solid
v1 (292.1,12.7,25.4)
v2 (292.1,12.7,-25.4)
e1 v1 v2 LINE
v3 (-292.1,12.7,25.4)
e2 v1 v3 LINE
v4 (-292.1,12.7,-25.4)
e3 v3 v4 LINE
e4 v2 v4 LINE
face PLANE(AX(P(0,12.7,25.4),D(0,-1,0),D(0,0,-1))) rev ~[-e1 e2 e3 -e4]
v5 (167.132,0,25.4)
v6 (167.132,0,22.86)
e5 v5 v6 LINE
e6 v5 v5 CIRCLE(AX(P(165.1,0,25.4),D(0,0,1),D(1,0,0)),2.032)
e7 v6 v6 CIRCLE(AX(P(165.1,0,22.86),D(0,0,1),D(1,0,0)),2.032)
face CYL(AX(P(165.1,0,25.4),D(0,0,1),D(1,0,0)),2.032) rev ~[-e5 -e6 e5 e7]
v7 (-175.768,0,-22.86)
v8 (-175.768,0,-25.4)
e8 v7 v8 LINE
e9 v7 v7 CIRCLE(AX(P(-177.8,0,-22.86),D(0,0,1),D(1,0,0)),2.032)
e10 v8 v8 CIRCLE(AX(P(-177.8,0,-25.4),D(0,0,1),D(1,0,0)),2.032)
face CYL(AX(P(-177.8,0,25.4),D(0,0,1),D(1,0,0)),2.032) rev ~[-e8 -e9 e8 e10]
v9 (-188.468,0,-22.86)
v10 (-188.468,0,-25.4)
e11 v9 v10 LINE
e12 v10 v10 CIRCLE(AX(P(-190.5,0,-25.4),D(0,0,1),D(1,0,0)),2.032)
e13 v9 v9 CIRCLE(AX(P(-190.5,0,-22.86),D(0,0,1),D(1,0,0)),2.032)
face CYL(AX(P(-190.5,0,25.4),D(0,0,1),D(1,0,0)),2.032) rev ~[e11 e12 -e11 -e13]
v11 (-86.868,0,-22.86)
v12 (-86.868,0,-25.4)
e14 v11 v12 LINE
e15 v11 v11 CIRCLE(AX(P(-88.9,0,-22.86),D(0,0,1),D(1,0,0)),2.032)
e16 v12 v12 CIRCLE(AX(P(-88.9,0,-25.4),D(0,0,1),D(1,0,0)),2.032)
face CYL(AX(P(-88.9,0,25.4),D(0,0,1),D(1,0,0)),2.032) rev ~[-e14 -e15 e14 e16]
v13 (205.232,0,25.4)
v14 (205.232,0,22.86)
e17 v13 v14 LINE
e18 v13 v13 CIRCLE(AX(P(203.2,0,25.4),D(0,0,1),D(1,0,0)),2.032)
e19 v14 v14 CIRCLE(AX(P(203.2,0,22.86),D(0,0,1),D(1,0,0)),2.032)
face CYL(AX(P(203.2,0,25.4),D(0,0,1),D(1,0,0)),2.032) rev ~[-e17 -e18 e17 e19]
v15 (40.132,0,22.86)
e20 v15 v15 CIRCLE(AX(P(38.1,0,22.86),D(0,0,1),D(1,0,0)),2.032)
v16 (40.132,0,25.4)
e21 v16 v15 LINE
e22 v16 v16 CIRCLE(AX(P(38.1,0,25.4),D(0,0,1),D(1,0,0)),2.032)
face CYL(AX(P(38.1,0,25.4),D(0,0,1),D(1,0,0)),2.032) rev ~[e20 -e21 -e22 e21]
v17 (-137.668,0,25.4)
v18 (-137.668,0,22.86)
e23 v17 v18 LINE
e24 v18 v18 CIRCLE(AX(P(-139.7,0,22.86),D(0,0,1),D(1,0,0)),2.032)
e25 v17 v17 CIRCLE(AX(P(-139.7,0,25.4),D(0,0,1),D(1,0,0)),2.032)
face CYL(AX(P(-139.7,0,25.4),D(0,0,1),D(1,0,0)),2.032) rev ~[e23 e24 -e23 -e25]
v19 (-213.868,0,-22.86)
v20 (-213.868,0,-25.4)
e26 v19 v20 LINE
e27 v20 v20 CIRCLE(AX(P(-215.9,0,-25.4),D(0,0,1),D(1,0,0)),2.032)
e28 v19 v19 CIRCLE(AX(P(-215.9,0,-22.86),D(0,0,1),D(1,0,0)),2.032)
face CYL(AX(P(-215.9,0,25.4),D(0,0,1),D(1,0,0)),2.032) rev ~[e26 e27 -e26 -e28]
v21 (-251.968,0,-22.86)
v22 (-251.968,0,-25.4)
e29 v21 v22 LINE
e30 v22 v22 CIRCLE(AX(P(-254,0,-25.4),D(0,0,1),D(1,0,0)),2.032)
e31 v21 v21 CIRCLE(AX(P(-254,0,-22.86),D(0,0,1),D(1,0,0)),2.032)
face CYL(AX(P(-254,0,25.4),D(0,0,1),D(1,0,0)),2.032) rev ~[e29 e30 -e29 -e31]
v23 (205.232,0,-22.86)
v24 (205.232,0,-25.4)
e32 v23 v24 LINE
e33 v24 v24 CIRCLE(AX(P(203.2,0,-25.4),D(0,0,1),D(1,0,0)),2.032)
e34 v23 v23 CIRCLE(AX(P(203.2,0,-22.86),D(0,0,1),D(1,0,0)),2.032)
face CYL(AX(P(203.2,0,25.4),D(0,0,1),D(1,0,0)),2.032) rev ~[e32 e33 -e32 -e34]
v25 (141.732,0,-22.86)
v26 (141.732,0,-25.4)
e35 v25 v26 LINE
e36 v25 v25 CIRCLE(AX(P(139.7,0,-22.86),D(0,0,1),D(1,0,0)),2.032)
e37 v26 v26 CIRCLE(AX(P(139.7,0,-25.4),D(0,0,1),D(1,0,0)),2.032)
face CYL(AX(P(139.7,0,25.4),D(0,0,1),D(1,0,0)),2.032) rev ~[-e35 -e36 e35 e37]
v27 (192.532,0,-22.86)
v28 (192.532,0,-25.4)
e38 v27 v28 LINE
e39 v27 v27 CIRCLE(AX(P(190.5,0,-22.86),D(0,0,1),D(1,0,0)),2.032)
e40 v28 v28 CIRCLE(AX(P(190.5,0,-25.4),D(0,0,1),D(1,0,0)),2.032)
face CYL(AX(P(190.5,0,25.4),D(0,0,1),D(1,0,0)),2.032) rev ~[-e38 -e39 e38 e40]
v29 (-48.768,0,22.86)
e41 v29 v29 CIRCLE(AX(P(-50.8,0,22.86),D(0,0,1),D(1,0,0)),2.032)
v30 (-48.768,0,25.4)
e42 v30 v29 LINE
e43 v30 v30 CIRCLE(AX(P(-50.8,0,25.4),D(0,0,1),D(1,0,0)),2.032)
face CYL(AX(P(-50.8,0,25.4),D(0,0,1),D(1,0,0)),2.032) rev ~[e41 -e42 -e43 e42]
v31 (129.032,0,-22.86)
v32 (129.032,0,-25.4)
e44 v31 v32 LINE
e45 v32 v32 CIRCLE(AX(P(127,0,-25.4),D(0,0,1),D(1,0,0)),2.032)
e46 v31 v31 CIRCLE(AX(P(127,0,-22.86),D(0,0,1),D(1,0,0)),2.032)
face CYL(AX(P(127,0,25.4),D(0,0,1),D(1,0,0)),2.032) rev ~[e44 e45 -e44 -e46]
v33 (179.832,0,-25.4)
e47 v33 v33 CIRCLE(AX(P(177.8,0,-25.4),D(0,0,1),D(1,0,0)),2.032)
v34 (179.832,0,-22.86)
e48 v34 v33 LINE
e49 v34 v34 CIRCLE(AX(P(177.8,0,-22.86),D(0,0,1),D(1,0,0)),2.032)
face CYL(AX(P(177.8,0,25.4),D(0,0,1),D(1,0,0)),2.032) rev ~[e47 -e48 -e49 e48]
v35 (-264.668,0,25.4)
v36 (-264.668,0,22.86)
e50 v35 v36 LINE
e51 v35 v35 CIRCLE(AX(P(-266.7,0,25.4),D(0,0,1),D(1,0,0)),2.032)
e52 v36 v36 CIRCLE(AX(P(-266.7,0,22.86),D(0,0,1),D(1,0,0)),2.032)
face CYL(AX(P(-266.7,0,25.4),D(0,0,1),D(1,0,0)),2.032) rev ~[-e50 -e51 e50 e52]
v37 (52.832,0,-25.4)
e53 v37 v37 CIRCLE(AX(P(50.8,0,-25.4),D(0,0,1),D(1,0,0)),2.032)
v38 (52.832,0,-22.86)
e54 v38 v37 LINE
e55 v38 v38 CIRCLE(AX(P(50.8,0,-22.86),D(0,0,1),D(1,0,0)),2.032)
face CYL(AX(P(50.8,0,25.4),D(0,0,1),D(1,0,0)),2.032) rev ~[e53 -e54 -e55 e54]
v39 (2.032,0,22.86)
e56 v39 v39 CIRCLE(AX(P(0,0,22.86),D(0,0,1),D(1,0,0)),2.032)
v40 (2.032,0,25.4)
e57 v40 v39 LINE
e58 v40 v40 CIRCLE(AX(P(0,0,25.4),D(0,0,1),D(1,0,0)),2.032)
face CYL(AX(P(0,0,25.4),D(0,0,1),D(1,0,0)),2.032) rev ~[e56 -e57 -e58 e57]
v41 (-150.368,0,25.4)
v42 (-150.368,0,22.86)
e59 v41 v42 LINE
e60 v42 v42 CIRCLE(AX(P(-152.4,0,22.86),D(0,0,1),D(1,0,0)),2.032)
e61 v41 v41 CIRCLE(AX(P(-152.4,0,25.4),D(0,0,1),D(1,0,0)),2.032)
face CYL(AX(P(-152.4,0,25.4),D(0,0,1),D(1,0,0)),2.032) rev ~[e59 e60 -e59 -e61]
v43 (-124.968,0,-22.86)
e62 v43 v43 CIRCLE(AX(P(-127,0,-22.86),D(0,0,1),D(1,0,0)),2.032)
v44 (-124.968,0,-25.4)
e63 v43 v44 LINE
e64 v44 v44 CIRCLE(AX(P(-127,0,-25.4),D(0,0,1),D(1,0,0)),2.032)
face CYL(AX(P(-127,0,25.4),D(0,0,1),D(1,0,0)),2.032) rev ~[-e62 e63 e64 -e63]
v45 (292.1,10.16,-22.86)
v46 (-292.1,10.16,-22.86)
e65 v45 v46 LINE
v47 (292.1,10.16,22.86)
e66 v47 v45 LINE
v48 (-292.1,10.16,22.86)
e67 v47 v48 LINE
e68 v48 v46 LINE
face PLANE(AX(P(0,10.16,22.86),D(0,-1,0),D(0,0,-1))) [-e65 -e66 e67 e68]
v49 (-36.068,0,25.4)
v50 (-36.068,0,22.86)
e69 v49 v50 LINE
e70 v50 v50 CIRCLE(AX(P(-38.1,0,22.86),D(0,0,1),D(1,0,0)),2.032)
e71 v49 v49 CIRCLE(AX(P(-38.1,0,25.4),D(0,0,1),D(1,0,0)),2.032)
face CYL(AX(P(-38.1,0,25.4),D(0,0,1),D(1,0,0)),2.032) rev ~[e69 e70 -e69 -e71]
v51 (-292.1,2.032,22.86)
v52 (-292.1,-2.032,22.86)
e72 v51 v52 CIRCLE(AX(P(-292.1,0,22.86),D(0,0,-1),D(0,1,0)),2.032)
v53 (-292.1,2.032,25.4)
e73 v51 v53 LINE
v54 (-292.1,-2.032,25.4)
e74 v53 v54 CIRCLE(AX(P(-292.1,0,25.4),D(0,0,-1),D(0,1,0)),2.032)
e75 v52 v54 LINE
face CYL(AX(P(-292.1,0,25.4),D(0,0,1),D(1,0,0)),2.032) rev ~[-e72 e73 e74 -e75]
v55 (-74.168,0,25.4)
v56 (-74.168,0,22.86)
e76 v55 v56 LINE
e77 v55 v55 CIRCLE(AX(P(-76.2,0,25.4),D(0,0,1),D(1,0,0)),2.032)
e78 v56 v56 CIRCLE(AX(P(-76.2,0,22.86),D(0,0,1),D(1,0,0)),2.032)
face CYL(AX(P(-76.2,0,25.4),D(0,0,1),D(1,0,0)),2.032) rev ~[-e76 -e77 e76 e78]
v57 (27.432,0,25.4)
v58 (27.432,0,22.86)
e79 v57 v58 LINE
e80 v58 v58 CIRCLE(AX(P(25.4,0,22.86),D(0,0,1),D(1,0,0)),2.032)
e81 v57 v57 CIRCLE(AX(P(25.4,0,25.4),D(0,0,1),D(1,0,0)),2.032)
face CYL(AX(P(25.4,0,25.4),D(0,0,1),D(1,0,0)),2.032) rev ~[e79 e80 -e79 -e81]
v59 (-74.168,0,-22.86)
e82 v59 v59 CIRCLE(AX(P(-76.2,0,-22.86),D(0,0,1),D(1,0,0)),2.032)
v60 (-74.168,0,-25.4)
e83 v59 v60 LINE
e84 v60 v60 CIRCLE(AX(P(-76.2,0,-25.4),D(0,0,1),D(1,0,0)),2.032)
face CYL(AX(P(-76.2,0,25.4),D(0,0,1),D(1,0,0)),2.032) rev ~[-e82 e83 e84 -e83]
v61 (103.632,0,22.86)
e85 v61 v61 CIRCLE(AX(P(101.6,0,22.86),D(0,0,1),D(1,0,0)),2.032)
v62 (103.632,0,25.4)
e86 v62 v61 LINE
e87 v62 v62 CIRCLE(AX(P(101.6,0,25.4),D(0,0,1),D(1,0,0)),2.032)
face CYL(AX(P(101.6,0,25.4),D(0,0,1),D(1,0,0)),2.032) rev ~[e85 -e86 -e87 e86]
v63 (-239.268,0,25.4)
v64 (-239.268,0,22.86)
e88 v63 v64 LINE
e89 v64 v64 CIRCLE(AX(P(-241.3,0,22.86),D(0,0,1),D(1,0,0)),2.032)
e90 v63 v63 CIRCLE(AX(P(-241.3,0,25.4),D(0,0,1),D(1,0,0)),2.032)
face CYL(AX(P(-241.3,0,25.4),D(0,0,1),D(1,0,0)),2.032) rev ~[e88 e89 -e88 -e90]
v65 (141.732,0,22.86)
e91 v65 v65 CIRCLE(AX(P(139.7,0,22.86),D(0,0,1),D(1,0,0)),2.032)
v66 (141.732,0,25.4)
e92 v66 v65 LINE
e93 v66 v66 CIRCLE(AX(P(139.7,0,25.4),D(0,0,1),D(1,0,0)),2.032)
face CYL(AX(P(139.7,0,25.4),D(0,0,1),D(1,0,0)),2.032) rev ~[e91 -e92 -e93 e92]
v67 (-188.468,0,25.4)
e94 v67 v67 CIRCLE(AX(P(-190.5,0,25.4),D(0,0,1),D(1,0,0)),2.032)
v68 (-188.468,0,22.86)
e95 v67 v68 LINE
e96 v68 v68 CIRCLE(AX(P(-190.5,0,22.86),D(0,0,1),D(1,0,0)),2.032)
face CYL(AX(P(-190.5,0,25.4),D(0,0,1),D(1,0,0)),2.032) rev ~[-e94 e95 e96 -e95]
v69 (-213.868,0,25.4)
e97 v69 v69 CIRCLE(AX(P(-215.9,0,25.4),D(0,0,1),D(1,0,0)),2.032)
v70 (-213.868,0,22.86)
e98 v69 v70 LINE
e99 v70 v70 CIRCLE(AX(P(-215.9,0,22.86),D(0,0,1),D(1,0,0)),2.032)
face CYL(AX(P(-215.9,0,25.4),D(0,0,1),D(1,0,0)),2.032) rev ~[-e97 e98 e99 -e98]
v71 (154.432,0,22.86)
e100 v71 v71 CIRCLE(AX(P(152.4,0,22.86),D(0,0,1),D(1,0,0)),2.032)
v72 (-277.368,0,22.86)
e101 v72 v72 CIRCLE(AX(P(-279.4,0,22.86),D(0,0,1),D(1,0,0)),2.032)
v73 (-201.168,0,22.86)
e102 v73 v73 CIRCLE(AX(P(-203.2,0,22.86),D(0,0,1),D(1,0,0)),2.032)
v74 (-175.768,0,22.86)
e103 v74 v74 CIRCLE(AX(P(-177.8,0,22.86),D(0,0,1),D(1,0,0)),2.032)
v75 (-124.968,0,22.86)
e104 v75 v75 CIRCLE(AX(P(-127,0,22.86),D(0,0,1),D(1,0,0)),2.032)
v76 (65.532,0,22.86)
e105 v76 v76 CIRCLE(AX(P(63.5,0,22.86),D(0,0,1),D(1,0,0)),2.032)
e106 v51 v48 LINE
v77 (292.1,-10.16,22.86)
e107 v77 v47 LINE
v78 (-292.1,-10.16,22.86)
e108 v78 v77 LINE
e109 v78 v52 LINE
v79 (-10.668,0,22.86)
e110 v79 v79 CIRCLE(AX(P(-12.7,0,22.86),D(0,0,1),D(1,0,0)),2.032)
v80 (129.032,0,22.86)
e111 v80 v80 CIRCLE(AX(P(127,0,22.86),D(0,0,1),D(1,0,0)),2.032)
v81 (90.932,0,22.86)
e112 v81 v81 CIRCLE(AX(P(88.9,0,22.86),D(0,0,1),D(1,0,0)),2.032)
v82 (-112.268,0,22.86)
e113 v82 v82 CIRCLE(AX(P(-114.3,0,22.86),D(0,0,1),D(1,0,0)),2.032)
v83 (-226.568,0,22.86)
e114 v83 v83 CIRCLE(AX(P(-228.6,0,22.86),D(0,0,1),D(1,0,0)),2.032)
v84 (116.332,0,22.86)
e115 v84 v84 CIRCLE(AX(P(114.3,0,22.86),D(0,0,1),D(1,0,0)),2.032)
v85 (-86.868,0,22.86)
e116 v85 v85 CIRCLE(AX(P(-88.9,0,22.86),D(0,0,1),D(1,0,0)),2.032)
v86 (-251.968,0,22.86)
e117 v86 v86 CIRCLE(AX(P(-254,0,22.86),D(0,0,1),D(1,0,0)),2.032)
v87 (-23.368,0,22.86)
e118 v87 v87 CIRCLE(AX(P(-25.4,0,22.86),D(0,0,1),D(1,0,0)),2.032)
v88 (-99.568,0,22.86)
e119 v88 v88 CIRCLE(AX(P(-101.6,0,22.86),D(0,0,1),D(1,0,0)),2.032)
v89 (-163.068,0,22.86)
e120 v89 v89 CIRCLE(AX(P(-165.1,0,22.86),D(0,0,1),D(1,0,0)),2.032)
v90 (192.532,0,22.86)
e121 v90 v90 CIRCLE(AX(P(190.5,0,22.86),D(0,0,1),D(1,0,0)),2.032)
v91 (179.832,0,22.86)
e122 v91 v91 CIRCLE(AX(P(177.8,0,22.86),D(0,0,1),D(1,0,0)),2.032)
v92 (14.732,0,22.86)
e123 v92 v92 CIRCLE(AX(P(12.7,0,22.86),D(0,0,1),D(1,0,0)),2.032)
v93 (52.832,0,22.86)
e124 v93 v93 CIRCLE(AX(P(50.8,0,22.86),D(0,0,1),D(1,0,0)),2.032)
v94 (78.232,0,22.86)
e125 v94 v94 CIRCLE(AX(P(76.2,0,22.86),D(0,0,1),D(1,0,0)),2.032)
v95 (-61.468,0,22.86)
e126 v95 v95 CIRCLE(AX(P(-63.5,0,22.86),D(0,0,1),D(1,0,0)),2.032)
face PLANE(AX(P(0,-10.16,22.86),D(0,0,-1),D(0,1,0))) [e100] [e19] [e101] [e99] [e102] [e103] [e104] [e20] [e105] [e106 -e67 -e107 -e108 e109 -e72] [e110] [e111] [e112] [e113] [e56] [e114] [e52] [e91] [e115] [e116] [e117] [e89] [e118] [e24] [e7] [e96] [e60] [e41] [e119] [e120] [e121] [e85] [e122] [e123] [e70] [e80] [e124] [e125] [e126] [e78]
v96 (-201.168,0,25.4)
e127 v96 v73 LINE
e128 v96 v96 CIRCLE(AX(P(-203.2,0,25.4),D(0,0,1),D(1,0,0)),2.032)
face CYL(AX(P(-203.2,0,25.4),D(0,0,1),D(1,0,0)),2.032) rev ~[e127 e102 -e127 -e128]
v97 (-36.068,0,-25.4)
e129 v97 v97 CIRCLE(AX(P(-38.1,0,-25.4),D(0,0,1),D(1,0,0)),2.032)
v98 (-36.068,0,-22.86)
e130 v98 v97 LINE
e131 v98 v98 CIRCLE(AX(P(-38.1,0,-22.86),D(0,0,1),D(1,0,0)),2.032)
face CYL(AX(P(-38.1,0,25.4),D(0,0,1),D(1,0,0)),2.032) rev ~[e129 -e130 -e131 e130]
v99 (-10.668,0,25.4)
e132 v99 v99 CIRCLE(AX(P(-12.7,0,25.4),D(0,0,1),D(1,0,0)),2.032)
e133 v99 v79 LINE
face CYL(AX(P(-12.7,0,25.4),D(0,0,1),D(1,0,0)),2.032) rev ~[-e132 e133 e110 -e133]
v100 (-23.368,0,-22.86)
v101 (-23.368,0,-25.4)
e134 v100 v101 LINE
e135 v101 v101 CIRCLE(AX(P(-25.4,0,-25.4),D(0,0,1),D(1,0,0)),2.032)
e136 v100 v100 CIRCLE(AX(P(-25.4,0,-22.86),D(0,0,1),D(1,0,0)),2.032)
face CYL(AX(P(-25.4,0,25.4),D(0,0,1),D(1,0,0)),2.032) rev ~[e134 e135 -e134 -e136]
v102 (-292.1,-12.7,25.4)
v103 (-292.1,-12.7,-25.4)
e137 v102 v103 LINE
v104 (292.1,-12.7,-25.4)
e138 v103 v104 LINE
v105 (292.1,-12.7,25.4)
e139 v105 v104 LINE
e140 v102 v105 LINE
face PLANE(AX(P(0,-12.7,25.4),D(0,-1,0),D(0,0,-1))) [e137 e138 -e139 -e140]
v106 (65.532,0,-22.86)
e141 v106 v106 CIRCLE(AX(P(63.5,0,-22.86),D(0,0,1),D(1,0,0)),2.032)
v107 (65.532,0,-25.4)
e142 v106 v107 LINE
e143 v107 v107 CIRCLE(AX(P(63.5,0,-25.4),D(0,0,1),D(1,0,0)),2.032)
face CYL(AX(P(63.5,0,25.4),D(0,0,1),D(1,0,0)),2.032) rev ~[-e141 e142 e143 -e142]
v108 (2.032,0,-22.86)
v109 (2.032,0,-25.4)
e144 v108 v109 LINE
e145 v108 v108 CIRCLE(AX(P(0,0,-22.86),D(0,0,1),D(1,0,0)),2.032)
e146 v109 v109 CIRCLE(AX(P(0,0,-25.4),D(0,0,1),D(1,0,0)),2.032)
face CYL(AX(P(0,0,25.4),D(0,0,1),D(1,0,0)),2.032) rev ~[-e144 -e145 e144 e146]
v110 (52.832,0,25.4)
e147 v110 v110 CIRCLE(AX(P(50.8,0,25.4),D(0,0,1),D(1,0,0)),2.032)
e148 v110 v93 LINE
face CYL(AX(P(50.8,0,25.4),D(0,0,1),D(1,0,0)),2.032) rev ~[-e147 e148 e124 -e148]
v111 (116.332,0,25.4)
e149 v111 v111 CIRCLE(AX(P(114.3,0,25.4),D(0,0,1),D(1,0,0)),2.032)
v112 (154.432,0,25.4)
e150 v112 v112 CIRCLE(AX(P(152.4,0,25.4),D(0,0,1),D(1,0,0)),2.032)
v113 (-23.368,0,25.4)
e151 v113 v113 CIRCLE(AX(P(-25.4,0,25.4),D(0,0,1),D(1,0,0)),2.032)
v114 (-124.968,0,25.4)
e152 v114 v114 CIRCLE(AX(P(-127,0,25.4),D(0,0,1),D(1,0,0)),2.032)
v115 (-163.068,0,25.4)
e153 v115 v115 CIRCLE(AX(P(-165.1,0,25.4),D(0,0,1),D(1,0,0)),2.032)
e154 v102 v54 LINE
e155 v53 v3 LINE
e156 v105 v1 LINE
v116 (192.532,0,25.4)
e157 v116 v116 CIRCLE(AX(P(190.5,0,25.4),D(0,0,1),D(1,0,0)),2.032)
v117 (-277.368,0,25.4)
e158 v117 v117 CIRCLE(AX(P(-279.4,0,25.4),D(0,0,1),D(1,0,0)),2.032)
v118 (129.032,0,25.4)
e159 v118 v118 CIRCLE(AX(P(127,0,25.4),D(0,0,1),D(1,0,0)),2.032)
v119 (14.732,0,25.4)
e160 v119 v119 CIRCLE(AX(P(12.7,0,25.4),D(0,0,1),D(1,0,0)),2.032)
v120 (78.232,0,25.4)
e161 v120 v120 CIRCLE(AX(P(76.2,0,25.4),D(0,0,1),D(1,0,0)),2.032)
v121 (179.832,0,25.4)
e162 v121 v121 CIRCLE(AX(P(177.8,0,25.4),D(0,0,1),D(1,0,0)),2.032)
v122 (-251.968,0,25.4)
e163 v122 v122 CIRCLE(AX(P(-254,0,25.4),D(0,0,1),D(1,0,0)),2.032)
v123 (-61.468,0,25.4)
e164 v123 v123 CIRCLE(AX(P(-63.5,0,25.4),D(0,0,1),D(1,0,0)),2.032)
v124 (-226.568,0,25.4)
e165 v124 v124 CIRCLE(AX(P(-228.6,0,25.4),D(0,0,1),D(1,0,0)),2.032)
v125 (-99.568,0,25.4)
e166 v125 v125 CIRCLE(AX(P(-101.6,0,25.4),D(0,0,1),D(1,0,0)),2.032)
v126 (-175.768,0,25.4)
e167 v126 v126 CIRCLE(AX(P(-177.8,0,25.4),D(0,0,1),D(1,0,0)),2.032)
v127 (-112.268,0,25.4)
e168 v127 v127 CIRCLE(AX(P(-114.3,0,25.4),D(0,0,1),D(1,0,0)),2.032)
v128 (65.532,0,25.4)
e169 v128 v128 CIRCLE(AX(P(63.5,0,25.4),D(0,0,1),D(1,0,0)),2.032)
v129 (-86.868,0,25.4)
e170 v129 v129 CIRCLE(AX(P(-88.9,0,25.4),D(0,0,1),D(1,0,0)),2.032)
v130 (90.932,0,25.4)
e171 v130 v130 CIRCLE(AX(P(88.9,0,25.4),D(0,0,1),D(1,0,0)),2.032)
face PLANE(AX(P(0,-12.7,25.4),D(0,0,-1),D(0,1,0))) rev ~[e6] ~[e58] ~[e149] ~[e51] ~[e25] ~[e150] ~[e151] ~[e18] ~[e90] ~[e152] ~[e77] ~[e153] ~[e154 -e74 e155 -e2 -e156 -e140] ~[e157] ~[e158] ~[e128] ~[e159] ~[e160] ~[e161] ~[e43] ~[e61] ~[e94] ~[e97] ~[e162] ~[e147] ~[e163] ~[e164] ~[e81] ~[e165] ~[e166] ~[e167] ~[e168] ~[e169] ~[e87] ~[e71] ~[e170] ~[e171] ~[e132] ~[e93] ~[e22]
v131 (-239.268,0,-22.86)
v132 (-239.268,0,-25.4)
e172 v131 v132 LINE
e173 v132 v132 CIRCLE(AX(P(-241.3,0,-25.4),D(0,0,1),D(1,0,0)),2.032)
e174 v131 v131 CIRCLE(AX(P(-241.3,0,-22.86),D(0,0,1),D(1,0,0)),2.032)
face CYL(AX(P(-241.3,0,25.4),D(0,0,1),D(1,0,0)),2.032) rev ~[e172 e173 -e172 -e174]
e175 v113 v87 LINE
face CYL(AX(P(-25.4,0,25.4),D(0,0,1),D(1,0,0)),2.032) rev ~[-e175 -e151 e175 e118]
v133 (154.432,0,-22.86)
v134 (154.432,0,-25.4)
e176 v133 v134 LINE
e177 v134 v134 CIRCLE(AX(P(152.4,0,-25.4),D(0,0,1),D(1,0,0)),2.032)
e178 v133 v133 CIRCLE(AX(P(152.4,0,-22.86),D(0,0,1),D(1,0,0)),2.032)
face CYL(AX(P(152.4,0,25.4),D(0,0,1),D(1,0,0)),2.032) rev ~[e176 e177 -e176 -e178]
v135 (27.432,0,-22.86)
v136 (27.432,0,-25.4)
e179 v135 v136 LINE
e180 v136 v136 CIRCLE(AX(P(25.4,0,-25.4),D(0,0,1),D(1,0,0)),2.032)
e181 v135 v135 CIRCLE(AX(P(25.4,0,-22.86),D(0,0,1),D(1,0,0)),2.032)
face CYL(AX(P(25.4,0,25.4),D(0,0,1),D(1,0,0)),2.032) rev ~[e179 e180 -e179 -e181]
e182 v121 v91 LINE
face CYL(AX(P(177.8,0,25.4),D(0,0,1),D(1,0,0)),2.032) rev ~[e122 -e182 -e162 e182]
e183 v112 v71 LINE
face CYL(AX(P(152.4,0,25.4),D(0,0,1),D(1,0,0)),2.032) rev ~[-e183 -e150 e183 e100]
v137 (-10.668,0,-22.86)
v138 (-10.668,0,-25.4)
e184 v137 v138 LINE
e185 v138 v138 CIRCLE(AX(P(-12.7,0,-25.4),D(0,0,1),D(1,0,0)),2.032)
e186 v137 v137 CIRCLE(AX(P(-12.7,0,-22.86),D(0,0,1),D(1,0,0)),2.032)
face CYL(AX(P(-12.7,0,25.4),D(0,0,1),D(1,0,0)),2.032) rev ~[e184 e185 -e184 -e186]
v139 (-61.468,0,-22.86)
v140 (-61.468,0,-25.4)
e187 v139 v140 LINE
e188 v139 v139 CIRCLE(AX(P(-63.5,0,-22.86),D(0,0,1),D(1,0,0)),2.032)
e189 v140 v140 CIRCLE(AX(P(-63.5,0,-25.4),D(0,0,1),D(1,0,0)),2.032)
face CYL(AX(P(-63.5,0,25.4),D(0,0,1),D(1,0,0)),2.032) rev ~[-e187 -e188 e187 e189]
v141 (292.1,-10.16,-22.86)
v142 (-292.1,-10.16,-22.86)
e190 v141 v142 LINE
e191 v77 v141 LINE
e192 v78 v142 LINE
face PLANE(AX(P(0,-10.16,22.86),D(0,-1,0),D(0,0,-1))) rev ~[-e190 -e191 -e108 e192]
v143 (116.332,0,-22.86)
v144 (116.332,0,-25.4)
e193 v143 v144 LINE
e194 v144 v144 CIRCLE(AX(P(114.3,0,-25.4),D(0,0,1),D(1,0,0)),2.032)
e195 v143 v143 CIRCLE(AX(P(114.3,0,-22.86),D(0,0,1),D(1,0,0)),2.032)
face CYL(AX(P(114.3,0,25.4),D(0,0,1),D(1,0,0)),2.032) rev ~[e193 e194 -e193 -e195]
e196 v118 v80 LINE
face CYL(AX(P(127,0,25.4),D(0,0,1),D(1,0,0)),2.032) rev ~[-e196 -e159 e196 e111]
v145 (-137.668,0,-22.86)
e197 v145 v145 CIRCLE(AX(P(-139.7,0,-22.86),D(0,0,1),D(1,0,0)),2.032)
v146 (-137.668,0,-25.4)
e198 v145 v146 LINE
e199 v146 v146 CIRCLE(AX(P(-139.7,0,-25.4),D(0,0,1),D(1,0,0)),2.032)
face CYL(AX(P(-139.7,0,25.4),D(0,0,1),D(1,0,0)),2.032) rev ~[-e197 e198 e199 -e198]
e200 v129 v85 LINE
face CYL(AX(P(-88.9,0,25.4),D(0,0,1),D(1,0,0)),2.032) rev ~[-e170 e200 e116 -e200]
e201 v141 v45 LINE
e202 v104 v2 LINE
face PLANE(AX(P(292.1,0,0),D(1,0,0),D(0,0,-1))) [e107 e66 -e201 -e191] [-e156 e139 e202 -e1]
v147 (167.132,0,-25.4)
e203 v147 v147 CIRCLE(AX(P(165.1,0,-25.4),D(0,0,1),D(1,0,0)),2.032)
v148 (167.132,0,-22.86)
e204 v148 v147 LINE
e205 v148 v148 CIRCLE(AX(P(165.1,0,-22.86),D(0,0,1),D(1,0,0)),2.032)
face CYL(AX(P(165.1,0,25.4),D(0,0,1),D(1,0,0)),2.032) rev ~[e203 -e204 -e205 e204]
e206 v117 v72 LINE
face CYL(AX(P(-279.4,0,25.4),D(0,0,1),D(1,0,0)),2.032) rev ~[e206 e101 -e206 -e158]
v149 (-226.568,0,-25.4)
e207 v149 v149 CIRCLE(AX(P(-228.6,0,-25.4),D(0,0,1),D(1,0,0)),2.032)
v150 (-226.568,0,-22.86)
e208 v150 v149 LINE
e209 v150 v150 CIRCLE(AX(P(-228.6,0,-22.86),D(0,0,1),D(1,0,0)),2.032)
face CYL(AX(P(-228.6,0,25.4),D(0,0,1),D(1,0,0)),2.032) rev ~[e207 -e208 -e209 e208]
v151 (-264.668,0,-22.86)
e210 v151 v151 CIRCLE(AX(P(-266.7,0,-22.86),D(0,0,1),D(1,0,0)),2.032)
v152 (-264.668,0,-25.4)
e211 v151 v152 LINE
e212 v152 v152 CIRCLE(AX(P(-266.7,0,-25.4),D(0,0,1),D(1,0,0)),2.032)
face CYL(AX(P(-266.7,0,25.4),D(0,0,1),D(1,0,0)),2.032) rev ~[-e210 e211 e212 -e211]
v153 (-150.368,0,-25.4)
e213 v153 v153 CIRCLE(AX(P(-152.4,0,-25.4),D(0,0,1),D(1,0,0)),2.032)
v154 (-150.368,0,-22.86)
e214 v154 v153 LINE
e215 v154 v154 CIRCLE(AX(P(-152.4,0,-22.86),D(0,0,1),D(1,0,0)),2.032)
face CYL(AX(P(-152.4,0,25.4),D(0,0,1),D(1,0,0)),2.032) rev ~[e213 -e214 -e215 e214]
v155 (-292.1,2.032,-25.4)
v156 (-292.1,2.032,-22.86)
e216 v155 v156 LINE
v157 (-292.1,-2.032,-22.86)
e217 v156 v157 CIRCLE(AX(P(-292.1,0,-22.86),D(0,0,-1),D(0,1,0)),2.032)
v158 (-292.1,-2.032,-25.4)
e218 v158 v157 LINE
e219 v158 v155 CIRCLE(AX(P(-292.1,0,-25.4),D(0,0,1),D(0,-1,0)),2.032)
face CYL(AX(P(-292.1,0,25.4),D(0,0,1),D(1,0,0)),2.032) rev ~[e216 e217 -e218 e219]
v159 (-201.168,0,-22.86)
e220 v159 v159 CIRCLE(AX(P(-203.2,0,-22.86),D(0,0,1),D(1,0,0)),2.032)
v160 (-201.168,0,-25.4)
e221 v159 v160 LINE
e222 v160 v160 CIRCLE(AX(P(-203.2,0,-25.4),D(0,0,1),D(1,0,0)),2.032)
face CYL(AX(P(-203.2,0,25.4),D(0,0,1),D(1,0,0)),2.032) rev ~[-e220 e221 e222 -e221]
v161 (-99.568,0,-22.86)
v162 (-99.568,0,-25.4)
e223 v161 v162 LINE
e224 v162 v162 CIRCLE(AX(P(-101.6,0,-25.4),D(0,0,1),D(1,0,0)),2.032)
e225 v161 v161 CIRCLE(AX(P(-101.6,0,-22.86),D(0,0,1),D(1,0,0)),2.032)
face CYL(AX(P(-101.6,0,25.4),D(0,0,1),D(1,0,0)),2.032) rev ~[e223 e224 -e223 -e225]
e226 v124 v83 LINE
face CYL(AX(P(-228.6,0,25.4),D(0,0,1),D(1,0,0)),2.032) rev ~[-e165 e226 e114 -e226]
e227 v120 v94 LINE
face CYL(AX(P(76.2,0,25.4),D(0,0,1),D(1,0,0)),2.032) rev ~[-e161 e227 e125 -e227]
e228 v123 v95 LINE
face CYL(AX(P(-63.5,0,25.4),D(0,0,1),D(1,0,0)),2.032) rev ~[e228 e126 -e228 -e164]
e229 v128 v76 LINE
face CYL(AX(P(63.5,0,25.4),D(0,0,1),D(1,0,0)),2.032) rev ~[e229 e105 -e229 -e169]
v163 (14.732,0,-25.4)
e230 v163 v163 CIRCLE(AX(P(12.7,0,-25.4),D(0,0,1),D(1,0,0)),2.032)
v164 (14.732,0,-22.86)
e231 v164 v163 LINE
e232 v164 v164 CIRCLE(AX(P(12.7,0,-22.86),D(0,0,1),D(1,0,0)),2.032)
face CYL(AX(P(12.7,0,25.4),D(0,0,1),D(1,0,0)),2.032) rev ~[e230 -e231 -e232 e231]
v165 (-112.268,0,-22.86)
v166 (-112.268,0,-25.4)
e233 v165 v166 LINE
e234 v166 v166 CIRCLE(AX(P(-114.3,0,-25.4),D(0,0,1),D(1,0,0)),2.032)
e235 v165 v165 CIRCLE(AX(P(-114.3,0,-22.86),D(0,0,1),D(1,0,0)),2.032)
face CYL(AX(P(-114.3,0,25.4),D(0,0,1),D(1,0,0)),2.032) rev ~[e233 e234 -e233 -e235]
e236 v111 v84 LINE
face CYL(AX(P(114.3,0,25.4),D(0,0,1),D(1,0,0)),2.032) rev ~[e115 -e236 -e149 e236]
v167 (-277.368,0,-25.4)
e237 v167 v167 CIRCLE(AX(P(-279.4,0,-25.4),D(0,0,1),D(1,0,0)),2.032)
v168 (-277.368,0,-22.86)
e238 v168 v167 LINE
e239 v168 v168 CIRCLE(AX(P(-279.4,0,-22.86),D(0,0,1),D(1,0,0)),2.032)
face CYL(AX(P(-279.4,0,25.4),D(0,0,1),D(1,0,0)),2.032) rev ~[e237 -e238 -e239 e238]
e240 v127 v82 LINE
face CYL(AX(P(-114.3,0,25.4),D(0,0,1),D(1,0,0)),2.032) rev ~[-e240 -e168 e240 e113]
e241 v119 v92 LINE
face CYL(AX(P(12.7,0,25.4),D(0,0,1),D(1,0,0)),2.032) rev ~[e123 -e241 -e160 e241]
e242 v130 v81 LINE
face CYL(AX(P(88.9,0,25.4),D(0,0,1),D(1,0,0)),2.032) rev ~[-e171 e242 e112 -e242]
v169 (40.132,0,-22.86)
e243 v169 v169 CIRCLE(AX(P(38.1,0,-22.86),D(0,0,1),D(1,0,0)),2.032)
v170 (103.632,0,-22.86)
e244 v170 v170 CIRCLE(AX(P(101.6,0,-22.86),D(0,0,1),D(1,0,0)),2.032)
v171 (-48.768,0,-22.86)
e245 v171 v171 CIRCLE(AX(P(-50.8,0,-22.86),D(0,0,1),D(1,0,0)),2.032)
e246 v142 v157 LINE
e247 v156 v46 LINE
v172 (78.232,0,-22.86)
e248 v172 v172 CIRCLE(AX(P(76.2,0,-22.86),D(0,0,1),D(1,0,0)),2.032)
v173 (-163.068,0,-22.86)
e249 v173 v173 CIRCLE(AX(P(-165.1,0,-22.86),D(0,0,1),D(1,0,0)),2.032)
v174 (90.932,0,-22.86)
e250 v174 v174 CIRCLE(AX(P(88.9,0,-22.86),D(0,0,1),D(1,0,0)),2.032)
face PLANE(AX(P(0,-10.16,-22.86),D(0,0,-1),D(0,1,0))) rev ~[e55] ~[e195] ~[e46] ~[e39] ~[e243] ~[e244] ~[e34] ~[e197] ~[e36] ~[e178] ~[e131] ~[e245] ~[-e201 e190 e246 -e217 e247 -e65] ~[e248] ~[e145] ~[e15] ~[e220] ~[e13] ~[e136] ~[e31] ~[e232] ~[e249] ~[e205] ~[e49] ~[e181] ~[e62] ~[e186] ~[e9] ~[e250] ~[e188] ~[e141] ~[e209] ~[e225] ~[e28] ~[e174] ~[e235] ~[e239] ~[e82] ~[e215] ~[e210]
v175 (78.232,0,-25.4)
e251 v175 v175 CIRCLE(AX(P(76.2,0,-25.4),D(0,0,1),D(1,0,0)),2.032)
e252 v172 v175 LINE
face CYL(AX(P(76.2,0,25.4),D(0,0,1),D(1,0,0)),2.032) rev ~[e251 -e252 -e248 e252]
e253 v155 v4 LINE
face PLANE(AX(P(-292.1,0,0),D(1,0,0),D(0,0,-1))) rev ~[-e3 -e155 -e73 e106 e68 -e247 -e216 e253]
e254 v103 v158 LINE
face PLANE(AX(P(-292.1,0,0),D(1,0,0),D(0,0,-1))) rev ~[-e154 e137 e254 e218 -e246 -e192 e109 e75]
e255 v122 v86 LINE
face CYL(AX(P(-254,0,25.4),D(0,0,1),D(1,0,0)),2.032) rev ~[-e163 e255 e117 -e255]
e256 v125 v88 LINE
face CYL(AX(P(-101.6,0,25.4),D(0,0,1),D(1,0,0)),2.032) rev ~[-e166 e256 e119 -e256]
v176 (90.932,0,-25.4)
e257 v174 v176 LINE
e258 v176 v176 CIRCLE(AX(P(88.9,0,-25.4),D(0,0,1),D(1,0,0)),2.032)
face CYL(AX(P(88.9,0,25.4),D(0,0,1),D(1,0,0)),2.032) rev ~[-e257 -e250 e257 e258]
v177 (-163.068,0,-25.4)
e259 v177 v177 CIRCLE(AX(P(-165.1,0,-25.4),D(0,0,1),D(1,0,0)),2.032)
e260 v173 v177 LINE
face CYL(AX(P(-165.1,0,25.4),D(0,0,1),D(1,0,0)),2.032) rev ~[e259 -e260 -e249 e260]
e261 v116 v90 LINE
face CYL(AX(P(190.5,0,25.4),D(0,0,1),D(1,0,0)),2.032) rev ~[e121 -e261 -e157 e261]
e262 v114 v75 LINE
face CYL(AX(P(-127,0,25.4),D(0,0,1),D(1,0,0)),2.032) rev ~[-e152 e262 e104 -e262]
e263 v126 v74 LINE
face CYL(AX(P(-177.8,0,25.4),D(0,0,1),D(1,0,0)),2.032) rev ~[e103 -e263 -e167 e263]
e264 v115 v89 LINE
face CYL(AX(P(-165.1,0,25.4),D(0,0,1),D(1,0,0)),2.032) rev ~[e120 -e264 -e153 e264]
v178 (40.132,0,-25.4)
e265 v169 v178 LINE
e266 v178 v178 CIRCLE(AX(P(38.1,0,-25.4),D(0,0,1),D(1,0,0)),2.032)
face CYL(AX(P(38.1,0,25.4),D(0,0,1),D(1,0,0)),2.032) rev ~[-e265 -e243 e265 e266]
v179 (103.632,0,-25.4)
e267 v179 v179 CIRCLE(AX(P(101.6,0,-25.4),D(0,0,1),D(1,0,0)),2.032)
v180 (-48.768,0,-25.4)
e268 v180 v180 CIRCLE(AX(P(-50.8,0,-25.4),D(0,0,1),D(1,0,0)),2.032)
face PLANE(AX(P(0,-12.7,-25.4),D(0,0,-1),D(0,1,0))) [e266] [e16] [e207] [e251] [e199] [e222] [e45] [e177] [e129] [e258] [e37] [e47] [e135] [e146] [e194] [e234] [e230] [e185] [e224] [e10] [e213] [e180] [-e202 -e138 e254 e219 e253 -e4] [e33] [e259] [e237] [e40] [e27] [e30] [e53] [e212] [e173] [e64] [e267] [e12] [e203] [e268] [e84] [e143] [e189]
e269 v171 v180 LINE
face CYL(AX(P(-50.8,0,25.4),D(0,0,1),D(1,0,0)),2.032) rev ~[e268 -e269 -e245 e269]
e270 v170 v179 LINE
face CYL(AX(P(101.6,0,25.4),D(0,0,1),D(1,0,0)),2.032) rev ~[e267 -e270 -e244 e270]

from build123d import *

# Parameters (mm, degrees)
SKETCH1_W           = 50.8
SKETCH1_H           = 25.4
SKETCH1_W_2         = 45.72
SKETCH1_H_2         = 20.32
BOSS_EXTRUDE1_DEPTH = 292.1
SKETCH2_R           = 2.032
CUT_EXTRUDE1_DEPTH  = 297.756364717


with BuildPart() as part:
    # Sketch1 → Boss-Extrude1 (new, symmetric)
    with BuildSketch(Plane(origin=(0, 0, 0), x_dir=(0, 0, -1), z_dir=(1, 0, 0))):
        Rectangle(SKETCH1_W, SKETCH1_H)
        Rectangle(SKETCH1_W_2, SKETCH1_H_2, mode=Mode.SUBTRACT)
    extrude(amount=BOSS_EXTRUDE1_DEPTH, both=True)

    # Sketch2 → Cut-Extrude1 (cut, through all)
    with BuildSketch(Plane.XY.offset(25.4)):
        with Locations((-292.1, 0)):
            Circle(SKETCH2_R)
        with Locations((-279.4, 0)):
            Circle(SKETCH2_R)
        with Locations((-266.7, 0)):
            Circle(SKETCH2_R)
        with Locations((-254, 0)):
            Circle(SKETCH2_R)
        with Locations((-241.3, 0)):
            Circle(SKETCH2_R)
        with Locations((-228.6, 0)):
            Circle(SKETCH2_R)
        with Locations((-215.9, 0)):
            Circle(SKETCH2_R)
        with Locations((-203.2, 0)):
            Circle(SKETCH2_R)
        with Locations((-190.5, 0)):
            Circle(SKETCH2_R)
        with Locations((-177.8, 0)):
            Circle(SKETCH2_R)
        with Locations((-165.1, 0)):
            Circle(SKETCH2_R)
        with Locations((-152.4, 0)):
            Circle(SKETCH2_R)
        with Locations((-139.7, 0)):
            Circle(SKETCH2_R)
        with Locations((-127, 0)):
            Circle(SKETCH2_R)
        with Locations((-114.3, 0)):
            Circle(SKETCH2_R)
        with Locations((-101.6, 0)):
            Circle(SKETCH2_R)
        with Locations((-88.9, 0)):
            Circle(SKETCH2_R)
        with Locations((-76.2, 0)):
            Circle(SKETCH2_R)
        with Locations((-63.5, 0)):
            Circle(SKETCH2_R)
        with Locations((-50.8, 0)):
            Circle(SKETCH2_R)
        with Locations((-38.1, 0)):
            Circle(SKETCH2_R)
        with Locations((-25.4, 0)):
            Circle(SKETCH2_R)
        with Locations((-12.7, 0)):
            Circle(SKETCH2_R)
        Circle(SKETCH2_R)
        with Locations((12.7, 0)):
            Circle(SKETCH2_R)
        with Locations((25.4, 0)):
            Circle(SKETCH2_R)
        with Locations((38.1, 0)):
            Circle(SKETCH2_R)
        with Locations((50.8, 0)):
            Circle(SKETCH2_R)
        with Locations((63.5, 0)):
            Circle(SKETCH2_R)
        with Locations((76.2, 0)):
            Circle(SKETCH2_R)
        with Locations((88.9, 0)):
            Circle(SKETCH2_R)
        with Locations((101.6, 0)):
            Circle(SKETCH2_R)
        with Locations((114.3, 0)):
            Circle(SKETCH2_R)
        with Locations((127, 0)):
            Circle(SKETCH2_R)
        with Locations((139.7, 0)):
            Circle(SKETCH2_R)
        with Locations((152.4, 0)):
            Circle(SKETCH2_R)
        with Locations((165.1, 0)):
            Circle(SKETCH2_R)
        with Locations((177.8, 0)):
            Circle(SKETCH2_R)
        with Locations((190.5, 0)):
            Circle(SKETCH2_R)
        with Locations((203.2, 0)):
            Circle(SKETCH2_R)
    extrude(amount=-CUT_EXTRUDE1_DEPTH, mode=Mode.SUBTRACT)


solid = part.part
